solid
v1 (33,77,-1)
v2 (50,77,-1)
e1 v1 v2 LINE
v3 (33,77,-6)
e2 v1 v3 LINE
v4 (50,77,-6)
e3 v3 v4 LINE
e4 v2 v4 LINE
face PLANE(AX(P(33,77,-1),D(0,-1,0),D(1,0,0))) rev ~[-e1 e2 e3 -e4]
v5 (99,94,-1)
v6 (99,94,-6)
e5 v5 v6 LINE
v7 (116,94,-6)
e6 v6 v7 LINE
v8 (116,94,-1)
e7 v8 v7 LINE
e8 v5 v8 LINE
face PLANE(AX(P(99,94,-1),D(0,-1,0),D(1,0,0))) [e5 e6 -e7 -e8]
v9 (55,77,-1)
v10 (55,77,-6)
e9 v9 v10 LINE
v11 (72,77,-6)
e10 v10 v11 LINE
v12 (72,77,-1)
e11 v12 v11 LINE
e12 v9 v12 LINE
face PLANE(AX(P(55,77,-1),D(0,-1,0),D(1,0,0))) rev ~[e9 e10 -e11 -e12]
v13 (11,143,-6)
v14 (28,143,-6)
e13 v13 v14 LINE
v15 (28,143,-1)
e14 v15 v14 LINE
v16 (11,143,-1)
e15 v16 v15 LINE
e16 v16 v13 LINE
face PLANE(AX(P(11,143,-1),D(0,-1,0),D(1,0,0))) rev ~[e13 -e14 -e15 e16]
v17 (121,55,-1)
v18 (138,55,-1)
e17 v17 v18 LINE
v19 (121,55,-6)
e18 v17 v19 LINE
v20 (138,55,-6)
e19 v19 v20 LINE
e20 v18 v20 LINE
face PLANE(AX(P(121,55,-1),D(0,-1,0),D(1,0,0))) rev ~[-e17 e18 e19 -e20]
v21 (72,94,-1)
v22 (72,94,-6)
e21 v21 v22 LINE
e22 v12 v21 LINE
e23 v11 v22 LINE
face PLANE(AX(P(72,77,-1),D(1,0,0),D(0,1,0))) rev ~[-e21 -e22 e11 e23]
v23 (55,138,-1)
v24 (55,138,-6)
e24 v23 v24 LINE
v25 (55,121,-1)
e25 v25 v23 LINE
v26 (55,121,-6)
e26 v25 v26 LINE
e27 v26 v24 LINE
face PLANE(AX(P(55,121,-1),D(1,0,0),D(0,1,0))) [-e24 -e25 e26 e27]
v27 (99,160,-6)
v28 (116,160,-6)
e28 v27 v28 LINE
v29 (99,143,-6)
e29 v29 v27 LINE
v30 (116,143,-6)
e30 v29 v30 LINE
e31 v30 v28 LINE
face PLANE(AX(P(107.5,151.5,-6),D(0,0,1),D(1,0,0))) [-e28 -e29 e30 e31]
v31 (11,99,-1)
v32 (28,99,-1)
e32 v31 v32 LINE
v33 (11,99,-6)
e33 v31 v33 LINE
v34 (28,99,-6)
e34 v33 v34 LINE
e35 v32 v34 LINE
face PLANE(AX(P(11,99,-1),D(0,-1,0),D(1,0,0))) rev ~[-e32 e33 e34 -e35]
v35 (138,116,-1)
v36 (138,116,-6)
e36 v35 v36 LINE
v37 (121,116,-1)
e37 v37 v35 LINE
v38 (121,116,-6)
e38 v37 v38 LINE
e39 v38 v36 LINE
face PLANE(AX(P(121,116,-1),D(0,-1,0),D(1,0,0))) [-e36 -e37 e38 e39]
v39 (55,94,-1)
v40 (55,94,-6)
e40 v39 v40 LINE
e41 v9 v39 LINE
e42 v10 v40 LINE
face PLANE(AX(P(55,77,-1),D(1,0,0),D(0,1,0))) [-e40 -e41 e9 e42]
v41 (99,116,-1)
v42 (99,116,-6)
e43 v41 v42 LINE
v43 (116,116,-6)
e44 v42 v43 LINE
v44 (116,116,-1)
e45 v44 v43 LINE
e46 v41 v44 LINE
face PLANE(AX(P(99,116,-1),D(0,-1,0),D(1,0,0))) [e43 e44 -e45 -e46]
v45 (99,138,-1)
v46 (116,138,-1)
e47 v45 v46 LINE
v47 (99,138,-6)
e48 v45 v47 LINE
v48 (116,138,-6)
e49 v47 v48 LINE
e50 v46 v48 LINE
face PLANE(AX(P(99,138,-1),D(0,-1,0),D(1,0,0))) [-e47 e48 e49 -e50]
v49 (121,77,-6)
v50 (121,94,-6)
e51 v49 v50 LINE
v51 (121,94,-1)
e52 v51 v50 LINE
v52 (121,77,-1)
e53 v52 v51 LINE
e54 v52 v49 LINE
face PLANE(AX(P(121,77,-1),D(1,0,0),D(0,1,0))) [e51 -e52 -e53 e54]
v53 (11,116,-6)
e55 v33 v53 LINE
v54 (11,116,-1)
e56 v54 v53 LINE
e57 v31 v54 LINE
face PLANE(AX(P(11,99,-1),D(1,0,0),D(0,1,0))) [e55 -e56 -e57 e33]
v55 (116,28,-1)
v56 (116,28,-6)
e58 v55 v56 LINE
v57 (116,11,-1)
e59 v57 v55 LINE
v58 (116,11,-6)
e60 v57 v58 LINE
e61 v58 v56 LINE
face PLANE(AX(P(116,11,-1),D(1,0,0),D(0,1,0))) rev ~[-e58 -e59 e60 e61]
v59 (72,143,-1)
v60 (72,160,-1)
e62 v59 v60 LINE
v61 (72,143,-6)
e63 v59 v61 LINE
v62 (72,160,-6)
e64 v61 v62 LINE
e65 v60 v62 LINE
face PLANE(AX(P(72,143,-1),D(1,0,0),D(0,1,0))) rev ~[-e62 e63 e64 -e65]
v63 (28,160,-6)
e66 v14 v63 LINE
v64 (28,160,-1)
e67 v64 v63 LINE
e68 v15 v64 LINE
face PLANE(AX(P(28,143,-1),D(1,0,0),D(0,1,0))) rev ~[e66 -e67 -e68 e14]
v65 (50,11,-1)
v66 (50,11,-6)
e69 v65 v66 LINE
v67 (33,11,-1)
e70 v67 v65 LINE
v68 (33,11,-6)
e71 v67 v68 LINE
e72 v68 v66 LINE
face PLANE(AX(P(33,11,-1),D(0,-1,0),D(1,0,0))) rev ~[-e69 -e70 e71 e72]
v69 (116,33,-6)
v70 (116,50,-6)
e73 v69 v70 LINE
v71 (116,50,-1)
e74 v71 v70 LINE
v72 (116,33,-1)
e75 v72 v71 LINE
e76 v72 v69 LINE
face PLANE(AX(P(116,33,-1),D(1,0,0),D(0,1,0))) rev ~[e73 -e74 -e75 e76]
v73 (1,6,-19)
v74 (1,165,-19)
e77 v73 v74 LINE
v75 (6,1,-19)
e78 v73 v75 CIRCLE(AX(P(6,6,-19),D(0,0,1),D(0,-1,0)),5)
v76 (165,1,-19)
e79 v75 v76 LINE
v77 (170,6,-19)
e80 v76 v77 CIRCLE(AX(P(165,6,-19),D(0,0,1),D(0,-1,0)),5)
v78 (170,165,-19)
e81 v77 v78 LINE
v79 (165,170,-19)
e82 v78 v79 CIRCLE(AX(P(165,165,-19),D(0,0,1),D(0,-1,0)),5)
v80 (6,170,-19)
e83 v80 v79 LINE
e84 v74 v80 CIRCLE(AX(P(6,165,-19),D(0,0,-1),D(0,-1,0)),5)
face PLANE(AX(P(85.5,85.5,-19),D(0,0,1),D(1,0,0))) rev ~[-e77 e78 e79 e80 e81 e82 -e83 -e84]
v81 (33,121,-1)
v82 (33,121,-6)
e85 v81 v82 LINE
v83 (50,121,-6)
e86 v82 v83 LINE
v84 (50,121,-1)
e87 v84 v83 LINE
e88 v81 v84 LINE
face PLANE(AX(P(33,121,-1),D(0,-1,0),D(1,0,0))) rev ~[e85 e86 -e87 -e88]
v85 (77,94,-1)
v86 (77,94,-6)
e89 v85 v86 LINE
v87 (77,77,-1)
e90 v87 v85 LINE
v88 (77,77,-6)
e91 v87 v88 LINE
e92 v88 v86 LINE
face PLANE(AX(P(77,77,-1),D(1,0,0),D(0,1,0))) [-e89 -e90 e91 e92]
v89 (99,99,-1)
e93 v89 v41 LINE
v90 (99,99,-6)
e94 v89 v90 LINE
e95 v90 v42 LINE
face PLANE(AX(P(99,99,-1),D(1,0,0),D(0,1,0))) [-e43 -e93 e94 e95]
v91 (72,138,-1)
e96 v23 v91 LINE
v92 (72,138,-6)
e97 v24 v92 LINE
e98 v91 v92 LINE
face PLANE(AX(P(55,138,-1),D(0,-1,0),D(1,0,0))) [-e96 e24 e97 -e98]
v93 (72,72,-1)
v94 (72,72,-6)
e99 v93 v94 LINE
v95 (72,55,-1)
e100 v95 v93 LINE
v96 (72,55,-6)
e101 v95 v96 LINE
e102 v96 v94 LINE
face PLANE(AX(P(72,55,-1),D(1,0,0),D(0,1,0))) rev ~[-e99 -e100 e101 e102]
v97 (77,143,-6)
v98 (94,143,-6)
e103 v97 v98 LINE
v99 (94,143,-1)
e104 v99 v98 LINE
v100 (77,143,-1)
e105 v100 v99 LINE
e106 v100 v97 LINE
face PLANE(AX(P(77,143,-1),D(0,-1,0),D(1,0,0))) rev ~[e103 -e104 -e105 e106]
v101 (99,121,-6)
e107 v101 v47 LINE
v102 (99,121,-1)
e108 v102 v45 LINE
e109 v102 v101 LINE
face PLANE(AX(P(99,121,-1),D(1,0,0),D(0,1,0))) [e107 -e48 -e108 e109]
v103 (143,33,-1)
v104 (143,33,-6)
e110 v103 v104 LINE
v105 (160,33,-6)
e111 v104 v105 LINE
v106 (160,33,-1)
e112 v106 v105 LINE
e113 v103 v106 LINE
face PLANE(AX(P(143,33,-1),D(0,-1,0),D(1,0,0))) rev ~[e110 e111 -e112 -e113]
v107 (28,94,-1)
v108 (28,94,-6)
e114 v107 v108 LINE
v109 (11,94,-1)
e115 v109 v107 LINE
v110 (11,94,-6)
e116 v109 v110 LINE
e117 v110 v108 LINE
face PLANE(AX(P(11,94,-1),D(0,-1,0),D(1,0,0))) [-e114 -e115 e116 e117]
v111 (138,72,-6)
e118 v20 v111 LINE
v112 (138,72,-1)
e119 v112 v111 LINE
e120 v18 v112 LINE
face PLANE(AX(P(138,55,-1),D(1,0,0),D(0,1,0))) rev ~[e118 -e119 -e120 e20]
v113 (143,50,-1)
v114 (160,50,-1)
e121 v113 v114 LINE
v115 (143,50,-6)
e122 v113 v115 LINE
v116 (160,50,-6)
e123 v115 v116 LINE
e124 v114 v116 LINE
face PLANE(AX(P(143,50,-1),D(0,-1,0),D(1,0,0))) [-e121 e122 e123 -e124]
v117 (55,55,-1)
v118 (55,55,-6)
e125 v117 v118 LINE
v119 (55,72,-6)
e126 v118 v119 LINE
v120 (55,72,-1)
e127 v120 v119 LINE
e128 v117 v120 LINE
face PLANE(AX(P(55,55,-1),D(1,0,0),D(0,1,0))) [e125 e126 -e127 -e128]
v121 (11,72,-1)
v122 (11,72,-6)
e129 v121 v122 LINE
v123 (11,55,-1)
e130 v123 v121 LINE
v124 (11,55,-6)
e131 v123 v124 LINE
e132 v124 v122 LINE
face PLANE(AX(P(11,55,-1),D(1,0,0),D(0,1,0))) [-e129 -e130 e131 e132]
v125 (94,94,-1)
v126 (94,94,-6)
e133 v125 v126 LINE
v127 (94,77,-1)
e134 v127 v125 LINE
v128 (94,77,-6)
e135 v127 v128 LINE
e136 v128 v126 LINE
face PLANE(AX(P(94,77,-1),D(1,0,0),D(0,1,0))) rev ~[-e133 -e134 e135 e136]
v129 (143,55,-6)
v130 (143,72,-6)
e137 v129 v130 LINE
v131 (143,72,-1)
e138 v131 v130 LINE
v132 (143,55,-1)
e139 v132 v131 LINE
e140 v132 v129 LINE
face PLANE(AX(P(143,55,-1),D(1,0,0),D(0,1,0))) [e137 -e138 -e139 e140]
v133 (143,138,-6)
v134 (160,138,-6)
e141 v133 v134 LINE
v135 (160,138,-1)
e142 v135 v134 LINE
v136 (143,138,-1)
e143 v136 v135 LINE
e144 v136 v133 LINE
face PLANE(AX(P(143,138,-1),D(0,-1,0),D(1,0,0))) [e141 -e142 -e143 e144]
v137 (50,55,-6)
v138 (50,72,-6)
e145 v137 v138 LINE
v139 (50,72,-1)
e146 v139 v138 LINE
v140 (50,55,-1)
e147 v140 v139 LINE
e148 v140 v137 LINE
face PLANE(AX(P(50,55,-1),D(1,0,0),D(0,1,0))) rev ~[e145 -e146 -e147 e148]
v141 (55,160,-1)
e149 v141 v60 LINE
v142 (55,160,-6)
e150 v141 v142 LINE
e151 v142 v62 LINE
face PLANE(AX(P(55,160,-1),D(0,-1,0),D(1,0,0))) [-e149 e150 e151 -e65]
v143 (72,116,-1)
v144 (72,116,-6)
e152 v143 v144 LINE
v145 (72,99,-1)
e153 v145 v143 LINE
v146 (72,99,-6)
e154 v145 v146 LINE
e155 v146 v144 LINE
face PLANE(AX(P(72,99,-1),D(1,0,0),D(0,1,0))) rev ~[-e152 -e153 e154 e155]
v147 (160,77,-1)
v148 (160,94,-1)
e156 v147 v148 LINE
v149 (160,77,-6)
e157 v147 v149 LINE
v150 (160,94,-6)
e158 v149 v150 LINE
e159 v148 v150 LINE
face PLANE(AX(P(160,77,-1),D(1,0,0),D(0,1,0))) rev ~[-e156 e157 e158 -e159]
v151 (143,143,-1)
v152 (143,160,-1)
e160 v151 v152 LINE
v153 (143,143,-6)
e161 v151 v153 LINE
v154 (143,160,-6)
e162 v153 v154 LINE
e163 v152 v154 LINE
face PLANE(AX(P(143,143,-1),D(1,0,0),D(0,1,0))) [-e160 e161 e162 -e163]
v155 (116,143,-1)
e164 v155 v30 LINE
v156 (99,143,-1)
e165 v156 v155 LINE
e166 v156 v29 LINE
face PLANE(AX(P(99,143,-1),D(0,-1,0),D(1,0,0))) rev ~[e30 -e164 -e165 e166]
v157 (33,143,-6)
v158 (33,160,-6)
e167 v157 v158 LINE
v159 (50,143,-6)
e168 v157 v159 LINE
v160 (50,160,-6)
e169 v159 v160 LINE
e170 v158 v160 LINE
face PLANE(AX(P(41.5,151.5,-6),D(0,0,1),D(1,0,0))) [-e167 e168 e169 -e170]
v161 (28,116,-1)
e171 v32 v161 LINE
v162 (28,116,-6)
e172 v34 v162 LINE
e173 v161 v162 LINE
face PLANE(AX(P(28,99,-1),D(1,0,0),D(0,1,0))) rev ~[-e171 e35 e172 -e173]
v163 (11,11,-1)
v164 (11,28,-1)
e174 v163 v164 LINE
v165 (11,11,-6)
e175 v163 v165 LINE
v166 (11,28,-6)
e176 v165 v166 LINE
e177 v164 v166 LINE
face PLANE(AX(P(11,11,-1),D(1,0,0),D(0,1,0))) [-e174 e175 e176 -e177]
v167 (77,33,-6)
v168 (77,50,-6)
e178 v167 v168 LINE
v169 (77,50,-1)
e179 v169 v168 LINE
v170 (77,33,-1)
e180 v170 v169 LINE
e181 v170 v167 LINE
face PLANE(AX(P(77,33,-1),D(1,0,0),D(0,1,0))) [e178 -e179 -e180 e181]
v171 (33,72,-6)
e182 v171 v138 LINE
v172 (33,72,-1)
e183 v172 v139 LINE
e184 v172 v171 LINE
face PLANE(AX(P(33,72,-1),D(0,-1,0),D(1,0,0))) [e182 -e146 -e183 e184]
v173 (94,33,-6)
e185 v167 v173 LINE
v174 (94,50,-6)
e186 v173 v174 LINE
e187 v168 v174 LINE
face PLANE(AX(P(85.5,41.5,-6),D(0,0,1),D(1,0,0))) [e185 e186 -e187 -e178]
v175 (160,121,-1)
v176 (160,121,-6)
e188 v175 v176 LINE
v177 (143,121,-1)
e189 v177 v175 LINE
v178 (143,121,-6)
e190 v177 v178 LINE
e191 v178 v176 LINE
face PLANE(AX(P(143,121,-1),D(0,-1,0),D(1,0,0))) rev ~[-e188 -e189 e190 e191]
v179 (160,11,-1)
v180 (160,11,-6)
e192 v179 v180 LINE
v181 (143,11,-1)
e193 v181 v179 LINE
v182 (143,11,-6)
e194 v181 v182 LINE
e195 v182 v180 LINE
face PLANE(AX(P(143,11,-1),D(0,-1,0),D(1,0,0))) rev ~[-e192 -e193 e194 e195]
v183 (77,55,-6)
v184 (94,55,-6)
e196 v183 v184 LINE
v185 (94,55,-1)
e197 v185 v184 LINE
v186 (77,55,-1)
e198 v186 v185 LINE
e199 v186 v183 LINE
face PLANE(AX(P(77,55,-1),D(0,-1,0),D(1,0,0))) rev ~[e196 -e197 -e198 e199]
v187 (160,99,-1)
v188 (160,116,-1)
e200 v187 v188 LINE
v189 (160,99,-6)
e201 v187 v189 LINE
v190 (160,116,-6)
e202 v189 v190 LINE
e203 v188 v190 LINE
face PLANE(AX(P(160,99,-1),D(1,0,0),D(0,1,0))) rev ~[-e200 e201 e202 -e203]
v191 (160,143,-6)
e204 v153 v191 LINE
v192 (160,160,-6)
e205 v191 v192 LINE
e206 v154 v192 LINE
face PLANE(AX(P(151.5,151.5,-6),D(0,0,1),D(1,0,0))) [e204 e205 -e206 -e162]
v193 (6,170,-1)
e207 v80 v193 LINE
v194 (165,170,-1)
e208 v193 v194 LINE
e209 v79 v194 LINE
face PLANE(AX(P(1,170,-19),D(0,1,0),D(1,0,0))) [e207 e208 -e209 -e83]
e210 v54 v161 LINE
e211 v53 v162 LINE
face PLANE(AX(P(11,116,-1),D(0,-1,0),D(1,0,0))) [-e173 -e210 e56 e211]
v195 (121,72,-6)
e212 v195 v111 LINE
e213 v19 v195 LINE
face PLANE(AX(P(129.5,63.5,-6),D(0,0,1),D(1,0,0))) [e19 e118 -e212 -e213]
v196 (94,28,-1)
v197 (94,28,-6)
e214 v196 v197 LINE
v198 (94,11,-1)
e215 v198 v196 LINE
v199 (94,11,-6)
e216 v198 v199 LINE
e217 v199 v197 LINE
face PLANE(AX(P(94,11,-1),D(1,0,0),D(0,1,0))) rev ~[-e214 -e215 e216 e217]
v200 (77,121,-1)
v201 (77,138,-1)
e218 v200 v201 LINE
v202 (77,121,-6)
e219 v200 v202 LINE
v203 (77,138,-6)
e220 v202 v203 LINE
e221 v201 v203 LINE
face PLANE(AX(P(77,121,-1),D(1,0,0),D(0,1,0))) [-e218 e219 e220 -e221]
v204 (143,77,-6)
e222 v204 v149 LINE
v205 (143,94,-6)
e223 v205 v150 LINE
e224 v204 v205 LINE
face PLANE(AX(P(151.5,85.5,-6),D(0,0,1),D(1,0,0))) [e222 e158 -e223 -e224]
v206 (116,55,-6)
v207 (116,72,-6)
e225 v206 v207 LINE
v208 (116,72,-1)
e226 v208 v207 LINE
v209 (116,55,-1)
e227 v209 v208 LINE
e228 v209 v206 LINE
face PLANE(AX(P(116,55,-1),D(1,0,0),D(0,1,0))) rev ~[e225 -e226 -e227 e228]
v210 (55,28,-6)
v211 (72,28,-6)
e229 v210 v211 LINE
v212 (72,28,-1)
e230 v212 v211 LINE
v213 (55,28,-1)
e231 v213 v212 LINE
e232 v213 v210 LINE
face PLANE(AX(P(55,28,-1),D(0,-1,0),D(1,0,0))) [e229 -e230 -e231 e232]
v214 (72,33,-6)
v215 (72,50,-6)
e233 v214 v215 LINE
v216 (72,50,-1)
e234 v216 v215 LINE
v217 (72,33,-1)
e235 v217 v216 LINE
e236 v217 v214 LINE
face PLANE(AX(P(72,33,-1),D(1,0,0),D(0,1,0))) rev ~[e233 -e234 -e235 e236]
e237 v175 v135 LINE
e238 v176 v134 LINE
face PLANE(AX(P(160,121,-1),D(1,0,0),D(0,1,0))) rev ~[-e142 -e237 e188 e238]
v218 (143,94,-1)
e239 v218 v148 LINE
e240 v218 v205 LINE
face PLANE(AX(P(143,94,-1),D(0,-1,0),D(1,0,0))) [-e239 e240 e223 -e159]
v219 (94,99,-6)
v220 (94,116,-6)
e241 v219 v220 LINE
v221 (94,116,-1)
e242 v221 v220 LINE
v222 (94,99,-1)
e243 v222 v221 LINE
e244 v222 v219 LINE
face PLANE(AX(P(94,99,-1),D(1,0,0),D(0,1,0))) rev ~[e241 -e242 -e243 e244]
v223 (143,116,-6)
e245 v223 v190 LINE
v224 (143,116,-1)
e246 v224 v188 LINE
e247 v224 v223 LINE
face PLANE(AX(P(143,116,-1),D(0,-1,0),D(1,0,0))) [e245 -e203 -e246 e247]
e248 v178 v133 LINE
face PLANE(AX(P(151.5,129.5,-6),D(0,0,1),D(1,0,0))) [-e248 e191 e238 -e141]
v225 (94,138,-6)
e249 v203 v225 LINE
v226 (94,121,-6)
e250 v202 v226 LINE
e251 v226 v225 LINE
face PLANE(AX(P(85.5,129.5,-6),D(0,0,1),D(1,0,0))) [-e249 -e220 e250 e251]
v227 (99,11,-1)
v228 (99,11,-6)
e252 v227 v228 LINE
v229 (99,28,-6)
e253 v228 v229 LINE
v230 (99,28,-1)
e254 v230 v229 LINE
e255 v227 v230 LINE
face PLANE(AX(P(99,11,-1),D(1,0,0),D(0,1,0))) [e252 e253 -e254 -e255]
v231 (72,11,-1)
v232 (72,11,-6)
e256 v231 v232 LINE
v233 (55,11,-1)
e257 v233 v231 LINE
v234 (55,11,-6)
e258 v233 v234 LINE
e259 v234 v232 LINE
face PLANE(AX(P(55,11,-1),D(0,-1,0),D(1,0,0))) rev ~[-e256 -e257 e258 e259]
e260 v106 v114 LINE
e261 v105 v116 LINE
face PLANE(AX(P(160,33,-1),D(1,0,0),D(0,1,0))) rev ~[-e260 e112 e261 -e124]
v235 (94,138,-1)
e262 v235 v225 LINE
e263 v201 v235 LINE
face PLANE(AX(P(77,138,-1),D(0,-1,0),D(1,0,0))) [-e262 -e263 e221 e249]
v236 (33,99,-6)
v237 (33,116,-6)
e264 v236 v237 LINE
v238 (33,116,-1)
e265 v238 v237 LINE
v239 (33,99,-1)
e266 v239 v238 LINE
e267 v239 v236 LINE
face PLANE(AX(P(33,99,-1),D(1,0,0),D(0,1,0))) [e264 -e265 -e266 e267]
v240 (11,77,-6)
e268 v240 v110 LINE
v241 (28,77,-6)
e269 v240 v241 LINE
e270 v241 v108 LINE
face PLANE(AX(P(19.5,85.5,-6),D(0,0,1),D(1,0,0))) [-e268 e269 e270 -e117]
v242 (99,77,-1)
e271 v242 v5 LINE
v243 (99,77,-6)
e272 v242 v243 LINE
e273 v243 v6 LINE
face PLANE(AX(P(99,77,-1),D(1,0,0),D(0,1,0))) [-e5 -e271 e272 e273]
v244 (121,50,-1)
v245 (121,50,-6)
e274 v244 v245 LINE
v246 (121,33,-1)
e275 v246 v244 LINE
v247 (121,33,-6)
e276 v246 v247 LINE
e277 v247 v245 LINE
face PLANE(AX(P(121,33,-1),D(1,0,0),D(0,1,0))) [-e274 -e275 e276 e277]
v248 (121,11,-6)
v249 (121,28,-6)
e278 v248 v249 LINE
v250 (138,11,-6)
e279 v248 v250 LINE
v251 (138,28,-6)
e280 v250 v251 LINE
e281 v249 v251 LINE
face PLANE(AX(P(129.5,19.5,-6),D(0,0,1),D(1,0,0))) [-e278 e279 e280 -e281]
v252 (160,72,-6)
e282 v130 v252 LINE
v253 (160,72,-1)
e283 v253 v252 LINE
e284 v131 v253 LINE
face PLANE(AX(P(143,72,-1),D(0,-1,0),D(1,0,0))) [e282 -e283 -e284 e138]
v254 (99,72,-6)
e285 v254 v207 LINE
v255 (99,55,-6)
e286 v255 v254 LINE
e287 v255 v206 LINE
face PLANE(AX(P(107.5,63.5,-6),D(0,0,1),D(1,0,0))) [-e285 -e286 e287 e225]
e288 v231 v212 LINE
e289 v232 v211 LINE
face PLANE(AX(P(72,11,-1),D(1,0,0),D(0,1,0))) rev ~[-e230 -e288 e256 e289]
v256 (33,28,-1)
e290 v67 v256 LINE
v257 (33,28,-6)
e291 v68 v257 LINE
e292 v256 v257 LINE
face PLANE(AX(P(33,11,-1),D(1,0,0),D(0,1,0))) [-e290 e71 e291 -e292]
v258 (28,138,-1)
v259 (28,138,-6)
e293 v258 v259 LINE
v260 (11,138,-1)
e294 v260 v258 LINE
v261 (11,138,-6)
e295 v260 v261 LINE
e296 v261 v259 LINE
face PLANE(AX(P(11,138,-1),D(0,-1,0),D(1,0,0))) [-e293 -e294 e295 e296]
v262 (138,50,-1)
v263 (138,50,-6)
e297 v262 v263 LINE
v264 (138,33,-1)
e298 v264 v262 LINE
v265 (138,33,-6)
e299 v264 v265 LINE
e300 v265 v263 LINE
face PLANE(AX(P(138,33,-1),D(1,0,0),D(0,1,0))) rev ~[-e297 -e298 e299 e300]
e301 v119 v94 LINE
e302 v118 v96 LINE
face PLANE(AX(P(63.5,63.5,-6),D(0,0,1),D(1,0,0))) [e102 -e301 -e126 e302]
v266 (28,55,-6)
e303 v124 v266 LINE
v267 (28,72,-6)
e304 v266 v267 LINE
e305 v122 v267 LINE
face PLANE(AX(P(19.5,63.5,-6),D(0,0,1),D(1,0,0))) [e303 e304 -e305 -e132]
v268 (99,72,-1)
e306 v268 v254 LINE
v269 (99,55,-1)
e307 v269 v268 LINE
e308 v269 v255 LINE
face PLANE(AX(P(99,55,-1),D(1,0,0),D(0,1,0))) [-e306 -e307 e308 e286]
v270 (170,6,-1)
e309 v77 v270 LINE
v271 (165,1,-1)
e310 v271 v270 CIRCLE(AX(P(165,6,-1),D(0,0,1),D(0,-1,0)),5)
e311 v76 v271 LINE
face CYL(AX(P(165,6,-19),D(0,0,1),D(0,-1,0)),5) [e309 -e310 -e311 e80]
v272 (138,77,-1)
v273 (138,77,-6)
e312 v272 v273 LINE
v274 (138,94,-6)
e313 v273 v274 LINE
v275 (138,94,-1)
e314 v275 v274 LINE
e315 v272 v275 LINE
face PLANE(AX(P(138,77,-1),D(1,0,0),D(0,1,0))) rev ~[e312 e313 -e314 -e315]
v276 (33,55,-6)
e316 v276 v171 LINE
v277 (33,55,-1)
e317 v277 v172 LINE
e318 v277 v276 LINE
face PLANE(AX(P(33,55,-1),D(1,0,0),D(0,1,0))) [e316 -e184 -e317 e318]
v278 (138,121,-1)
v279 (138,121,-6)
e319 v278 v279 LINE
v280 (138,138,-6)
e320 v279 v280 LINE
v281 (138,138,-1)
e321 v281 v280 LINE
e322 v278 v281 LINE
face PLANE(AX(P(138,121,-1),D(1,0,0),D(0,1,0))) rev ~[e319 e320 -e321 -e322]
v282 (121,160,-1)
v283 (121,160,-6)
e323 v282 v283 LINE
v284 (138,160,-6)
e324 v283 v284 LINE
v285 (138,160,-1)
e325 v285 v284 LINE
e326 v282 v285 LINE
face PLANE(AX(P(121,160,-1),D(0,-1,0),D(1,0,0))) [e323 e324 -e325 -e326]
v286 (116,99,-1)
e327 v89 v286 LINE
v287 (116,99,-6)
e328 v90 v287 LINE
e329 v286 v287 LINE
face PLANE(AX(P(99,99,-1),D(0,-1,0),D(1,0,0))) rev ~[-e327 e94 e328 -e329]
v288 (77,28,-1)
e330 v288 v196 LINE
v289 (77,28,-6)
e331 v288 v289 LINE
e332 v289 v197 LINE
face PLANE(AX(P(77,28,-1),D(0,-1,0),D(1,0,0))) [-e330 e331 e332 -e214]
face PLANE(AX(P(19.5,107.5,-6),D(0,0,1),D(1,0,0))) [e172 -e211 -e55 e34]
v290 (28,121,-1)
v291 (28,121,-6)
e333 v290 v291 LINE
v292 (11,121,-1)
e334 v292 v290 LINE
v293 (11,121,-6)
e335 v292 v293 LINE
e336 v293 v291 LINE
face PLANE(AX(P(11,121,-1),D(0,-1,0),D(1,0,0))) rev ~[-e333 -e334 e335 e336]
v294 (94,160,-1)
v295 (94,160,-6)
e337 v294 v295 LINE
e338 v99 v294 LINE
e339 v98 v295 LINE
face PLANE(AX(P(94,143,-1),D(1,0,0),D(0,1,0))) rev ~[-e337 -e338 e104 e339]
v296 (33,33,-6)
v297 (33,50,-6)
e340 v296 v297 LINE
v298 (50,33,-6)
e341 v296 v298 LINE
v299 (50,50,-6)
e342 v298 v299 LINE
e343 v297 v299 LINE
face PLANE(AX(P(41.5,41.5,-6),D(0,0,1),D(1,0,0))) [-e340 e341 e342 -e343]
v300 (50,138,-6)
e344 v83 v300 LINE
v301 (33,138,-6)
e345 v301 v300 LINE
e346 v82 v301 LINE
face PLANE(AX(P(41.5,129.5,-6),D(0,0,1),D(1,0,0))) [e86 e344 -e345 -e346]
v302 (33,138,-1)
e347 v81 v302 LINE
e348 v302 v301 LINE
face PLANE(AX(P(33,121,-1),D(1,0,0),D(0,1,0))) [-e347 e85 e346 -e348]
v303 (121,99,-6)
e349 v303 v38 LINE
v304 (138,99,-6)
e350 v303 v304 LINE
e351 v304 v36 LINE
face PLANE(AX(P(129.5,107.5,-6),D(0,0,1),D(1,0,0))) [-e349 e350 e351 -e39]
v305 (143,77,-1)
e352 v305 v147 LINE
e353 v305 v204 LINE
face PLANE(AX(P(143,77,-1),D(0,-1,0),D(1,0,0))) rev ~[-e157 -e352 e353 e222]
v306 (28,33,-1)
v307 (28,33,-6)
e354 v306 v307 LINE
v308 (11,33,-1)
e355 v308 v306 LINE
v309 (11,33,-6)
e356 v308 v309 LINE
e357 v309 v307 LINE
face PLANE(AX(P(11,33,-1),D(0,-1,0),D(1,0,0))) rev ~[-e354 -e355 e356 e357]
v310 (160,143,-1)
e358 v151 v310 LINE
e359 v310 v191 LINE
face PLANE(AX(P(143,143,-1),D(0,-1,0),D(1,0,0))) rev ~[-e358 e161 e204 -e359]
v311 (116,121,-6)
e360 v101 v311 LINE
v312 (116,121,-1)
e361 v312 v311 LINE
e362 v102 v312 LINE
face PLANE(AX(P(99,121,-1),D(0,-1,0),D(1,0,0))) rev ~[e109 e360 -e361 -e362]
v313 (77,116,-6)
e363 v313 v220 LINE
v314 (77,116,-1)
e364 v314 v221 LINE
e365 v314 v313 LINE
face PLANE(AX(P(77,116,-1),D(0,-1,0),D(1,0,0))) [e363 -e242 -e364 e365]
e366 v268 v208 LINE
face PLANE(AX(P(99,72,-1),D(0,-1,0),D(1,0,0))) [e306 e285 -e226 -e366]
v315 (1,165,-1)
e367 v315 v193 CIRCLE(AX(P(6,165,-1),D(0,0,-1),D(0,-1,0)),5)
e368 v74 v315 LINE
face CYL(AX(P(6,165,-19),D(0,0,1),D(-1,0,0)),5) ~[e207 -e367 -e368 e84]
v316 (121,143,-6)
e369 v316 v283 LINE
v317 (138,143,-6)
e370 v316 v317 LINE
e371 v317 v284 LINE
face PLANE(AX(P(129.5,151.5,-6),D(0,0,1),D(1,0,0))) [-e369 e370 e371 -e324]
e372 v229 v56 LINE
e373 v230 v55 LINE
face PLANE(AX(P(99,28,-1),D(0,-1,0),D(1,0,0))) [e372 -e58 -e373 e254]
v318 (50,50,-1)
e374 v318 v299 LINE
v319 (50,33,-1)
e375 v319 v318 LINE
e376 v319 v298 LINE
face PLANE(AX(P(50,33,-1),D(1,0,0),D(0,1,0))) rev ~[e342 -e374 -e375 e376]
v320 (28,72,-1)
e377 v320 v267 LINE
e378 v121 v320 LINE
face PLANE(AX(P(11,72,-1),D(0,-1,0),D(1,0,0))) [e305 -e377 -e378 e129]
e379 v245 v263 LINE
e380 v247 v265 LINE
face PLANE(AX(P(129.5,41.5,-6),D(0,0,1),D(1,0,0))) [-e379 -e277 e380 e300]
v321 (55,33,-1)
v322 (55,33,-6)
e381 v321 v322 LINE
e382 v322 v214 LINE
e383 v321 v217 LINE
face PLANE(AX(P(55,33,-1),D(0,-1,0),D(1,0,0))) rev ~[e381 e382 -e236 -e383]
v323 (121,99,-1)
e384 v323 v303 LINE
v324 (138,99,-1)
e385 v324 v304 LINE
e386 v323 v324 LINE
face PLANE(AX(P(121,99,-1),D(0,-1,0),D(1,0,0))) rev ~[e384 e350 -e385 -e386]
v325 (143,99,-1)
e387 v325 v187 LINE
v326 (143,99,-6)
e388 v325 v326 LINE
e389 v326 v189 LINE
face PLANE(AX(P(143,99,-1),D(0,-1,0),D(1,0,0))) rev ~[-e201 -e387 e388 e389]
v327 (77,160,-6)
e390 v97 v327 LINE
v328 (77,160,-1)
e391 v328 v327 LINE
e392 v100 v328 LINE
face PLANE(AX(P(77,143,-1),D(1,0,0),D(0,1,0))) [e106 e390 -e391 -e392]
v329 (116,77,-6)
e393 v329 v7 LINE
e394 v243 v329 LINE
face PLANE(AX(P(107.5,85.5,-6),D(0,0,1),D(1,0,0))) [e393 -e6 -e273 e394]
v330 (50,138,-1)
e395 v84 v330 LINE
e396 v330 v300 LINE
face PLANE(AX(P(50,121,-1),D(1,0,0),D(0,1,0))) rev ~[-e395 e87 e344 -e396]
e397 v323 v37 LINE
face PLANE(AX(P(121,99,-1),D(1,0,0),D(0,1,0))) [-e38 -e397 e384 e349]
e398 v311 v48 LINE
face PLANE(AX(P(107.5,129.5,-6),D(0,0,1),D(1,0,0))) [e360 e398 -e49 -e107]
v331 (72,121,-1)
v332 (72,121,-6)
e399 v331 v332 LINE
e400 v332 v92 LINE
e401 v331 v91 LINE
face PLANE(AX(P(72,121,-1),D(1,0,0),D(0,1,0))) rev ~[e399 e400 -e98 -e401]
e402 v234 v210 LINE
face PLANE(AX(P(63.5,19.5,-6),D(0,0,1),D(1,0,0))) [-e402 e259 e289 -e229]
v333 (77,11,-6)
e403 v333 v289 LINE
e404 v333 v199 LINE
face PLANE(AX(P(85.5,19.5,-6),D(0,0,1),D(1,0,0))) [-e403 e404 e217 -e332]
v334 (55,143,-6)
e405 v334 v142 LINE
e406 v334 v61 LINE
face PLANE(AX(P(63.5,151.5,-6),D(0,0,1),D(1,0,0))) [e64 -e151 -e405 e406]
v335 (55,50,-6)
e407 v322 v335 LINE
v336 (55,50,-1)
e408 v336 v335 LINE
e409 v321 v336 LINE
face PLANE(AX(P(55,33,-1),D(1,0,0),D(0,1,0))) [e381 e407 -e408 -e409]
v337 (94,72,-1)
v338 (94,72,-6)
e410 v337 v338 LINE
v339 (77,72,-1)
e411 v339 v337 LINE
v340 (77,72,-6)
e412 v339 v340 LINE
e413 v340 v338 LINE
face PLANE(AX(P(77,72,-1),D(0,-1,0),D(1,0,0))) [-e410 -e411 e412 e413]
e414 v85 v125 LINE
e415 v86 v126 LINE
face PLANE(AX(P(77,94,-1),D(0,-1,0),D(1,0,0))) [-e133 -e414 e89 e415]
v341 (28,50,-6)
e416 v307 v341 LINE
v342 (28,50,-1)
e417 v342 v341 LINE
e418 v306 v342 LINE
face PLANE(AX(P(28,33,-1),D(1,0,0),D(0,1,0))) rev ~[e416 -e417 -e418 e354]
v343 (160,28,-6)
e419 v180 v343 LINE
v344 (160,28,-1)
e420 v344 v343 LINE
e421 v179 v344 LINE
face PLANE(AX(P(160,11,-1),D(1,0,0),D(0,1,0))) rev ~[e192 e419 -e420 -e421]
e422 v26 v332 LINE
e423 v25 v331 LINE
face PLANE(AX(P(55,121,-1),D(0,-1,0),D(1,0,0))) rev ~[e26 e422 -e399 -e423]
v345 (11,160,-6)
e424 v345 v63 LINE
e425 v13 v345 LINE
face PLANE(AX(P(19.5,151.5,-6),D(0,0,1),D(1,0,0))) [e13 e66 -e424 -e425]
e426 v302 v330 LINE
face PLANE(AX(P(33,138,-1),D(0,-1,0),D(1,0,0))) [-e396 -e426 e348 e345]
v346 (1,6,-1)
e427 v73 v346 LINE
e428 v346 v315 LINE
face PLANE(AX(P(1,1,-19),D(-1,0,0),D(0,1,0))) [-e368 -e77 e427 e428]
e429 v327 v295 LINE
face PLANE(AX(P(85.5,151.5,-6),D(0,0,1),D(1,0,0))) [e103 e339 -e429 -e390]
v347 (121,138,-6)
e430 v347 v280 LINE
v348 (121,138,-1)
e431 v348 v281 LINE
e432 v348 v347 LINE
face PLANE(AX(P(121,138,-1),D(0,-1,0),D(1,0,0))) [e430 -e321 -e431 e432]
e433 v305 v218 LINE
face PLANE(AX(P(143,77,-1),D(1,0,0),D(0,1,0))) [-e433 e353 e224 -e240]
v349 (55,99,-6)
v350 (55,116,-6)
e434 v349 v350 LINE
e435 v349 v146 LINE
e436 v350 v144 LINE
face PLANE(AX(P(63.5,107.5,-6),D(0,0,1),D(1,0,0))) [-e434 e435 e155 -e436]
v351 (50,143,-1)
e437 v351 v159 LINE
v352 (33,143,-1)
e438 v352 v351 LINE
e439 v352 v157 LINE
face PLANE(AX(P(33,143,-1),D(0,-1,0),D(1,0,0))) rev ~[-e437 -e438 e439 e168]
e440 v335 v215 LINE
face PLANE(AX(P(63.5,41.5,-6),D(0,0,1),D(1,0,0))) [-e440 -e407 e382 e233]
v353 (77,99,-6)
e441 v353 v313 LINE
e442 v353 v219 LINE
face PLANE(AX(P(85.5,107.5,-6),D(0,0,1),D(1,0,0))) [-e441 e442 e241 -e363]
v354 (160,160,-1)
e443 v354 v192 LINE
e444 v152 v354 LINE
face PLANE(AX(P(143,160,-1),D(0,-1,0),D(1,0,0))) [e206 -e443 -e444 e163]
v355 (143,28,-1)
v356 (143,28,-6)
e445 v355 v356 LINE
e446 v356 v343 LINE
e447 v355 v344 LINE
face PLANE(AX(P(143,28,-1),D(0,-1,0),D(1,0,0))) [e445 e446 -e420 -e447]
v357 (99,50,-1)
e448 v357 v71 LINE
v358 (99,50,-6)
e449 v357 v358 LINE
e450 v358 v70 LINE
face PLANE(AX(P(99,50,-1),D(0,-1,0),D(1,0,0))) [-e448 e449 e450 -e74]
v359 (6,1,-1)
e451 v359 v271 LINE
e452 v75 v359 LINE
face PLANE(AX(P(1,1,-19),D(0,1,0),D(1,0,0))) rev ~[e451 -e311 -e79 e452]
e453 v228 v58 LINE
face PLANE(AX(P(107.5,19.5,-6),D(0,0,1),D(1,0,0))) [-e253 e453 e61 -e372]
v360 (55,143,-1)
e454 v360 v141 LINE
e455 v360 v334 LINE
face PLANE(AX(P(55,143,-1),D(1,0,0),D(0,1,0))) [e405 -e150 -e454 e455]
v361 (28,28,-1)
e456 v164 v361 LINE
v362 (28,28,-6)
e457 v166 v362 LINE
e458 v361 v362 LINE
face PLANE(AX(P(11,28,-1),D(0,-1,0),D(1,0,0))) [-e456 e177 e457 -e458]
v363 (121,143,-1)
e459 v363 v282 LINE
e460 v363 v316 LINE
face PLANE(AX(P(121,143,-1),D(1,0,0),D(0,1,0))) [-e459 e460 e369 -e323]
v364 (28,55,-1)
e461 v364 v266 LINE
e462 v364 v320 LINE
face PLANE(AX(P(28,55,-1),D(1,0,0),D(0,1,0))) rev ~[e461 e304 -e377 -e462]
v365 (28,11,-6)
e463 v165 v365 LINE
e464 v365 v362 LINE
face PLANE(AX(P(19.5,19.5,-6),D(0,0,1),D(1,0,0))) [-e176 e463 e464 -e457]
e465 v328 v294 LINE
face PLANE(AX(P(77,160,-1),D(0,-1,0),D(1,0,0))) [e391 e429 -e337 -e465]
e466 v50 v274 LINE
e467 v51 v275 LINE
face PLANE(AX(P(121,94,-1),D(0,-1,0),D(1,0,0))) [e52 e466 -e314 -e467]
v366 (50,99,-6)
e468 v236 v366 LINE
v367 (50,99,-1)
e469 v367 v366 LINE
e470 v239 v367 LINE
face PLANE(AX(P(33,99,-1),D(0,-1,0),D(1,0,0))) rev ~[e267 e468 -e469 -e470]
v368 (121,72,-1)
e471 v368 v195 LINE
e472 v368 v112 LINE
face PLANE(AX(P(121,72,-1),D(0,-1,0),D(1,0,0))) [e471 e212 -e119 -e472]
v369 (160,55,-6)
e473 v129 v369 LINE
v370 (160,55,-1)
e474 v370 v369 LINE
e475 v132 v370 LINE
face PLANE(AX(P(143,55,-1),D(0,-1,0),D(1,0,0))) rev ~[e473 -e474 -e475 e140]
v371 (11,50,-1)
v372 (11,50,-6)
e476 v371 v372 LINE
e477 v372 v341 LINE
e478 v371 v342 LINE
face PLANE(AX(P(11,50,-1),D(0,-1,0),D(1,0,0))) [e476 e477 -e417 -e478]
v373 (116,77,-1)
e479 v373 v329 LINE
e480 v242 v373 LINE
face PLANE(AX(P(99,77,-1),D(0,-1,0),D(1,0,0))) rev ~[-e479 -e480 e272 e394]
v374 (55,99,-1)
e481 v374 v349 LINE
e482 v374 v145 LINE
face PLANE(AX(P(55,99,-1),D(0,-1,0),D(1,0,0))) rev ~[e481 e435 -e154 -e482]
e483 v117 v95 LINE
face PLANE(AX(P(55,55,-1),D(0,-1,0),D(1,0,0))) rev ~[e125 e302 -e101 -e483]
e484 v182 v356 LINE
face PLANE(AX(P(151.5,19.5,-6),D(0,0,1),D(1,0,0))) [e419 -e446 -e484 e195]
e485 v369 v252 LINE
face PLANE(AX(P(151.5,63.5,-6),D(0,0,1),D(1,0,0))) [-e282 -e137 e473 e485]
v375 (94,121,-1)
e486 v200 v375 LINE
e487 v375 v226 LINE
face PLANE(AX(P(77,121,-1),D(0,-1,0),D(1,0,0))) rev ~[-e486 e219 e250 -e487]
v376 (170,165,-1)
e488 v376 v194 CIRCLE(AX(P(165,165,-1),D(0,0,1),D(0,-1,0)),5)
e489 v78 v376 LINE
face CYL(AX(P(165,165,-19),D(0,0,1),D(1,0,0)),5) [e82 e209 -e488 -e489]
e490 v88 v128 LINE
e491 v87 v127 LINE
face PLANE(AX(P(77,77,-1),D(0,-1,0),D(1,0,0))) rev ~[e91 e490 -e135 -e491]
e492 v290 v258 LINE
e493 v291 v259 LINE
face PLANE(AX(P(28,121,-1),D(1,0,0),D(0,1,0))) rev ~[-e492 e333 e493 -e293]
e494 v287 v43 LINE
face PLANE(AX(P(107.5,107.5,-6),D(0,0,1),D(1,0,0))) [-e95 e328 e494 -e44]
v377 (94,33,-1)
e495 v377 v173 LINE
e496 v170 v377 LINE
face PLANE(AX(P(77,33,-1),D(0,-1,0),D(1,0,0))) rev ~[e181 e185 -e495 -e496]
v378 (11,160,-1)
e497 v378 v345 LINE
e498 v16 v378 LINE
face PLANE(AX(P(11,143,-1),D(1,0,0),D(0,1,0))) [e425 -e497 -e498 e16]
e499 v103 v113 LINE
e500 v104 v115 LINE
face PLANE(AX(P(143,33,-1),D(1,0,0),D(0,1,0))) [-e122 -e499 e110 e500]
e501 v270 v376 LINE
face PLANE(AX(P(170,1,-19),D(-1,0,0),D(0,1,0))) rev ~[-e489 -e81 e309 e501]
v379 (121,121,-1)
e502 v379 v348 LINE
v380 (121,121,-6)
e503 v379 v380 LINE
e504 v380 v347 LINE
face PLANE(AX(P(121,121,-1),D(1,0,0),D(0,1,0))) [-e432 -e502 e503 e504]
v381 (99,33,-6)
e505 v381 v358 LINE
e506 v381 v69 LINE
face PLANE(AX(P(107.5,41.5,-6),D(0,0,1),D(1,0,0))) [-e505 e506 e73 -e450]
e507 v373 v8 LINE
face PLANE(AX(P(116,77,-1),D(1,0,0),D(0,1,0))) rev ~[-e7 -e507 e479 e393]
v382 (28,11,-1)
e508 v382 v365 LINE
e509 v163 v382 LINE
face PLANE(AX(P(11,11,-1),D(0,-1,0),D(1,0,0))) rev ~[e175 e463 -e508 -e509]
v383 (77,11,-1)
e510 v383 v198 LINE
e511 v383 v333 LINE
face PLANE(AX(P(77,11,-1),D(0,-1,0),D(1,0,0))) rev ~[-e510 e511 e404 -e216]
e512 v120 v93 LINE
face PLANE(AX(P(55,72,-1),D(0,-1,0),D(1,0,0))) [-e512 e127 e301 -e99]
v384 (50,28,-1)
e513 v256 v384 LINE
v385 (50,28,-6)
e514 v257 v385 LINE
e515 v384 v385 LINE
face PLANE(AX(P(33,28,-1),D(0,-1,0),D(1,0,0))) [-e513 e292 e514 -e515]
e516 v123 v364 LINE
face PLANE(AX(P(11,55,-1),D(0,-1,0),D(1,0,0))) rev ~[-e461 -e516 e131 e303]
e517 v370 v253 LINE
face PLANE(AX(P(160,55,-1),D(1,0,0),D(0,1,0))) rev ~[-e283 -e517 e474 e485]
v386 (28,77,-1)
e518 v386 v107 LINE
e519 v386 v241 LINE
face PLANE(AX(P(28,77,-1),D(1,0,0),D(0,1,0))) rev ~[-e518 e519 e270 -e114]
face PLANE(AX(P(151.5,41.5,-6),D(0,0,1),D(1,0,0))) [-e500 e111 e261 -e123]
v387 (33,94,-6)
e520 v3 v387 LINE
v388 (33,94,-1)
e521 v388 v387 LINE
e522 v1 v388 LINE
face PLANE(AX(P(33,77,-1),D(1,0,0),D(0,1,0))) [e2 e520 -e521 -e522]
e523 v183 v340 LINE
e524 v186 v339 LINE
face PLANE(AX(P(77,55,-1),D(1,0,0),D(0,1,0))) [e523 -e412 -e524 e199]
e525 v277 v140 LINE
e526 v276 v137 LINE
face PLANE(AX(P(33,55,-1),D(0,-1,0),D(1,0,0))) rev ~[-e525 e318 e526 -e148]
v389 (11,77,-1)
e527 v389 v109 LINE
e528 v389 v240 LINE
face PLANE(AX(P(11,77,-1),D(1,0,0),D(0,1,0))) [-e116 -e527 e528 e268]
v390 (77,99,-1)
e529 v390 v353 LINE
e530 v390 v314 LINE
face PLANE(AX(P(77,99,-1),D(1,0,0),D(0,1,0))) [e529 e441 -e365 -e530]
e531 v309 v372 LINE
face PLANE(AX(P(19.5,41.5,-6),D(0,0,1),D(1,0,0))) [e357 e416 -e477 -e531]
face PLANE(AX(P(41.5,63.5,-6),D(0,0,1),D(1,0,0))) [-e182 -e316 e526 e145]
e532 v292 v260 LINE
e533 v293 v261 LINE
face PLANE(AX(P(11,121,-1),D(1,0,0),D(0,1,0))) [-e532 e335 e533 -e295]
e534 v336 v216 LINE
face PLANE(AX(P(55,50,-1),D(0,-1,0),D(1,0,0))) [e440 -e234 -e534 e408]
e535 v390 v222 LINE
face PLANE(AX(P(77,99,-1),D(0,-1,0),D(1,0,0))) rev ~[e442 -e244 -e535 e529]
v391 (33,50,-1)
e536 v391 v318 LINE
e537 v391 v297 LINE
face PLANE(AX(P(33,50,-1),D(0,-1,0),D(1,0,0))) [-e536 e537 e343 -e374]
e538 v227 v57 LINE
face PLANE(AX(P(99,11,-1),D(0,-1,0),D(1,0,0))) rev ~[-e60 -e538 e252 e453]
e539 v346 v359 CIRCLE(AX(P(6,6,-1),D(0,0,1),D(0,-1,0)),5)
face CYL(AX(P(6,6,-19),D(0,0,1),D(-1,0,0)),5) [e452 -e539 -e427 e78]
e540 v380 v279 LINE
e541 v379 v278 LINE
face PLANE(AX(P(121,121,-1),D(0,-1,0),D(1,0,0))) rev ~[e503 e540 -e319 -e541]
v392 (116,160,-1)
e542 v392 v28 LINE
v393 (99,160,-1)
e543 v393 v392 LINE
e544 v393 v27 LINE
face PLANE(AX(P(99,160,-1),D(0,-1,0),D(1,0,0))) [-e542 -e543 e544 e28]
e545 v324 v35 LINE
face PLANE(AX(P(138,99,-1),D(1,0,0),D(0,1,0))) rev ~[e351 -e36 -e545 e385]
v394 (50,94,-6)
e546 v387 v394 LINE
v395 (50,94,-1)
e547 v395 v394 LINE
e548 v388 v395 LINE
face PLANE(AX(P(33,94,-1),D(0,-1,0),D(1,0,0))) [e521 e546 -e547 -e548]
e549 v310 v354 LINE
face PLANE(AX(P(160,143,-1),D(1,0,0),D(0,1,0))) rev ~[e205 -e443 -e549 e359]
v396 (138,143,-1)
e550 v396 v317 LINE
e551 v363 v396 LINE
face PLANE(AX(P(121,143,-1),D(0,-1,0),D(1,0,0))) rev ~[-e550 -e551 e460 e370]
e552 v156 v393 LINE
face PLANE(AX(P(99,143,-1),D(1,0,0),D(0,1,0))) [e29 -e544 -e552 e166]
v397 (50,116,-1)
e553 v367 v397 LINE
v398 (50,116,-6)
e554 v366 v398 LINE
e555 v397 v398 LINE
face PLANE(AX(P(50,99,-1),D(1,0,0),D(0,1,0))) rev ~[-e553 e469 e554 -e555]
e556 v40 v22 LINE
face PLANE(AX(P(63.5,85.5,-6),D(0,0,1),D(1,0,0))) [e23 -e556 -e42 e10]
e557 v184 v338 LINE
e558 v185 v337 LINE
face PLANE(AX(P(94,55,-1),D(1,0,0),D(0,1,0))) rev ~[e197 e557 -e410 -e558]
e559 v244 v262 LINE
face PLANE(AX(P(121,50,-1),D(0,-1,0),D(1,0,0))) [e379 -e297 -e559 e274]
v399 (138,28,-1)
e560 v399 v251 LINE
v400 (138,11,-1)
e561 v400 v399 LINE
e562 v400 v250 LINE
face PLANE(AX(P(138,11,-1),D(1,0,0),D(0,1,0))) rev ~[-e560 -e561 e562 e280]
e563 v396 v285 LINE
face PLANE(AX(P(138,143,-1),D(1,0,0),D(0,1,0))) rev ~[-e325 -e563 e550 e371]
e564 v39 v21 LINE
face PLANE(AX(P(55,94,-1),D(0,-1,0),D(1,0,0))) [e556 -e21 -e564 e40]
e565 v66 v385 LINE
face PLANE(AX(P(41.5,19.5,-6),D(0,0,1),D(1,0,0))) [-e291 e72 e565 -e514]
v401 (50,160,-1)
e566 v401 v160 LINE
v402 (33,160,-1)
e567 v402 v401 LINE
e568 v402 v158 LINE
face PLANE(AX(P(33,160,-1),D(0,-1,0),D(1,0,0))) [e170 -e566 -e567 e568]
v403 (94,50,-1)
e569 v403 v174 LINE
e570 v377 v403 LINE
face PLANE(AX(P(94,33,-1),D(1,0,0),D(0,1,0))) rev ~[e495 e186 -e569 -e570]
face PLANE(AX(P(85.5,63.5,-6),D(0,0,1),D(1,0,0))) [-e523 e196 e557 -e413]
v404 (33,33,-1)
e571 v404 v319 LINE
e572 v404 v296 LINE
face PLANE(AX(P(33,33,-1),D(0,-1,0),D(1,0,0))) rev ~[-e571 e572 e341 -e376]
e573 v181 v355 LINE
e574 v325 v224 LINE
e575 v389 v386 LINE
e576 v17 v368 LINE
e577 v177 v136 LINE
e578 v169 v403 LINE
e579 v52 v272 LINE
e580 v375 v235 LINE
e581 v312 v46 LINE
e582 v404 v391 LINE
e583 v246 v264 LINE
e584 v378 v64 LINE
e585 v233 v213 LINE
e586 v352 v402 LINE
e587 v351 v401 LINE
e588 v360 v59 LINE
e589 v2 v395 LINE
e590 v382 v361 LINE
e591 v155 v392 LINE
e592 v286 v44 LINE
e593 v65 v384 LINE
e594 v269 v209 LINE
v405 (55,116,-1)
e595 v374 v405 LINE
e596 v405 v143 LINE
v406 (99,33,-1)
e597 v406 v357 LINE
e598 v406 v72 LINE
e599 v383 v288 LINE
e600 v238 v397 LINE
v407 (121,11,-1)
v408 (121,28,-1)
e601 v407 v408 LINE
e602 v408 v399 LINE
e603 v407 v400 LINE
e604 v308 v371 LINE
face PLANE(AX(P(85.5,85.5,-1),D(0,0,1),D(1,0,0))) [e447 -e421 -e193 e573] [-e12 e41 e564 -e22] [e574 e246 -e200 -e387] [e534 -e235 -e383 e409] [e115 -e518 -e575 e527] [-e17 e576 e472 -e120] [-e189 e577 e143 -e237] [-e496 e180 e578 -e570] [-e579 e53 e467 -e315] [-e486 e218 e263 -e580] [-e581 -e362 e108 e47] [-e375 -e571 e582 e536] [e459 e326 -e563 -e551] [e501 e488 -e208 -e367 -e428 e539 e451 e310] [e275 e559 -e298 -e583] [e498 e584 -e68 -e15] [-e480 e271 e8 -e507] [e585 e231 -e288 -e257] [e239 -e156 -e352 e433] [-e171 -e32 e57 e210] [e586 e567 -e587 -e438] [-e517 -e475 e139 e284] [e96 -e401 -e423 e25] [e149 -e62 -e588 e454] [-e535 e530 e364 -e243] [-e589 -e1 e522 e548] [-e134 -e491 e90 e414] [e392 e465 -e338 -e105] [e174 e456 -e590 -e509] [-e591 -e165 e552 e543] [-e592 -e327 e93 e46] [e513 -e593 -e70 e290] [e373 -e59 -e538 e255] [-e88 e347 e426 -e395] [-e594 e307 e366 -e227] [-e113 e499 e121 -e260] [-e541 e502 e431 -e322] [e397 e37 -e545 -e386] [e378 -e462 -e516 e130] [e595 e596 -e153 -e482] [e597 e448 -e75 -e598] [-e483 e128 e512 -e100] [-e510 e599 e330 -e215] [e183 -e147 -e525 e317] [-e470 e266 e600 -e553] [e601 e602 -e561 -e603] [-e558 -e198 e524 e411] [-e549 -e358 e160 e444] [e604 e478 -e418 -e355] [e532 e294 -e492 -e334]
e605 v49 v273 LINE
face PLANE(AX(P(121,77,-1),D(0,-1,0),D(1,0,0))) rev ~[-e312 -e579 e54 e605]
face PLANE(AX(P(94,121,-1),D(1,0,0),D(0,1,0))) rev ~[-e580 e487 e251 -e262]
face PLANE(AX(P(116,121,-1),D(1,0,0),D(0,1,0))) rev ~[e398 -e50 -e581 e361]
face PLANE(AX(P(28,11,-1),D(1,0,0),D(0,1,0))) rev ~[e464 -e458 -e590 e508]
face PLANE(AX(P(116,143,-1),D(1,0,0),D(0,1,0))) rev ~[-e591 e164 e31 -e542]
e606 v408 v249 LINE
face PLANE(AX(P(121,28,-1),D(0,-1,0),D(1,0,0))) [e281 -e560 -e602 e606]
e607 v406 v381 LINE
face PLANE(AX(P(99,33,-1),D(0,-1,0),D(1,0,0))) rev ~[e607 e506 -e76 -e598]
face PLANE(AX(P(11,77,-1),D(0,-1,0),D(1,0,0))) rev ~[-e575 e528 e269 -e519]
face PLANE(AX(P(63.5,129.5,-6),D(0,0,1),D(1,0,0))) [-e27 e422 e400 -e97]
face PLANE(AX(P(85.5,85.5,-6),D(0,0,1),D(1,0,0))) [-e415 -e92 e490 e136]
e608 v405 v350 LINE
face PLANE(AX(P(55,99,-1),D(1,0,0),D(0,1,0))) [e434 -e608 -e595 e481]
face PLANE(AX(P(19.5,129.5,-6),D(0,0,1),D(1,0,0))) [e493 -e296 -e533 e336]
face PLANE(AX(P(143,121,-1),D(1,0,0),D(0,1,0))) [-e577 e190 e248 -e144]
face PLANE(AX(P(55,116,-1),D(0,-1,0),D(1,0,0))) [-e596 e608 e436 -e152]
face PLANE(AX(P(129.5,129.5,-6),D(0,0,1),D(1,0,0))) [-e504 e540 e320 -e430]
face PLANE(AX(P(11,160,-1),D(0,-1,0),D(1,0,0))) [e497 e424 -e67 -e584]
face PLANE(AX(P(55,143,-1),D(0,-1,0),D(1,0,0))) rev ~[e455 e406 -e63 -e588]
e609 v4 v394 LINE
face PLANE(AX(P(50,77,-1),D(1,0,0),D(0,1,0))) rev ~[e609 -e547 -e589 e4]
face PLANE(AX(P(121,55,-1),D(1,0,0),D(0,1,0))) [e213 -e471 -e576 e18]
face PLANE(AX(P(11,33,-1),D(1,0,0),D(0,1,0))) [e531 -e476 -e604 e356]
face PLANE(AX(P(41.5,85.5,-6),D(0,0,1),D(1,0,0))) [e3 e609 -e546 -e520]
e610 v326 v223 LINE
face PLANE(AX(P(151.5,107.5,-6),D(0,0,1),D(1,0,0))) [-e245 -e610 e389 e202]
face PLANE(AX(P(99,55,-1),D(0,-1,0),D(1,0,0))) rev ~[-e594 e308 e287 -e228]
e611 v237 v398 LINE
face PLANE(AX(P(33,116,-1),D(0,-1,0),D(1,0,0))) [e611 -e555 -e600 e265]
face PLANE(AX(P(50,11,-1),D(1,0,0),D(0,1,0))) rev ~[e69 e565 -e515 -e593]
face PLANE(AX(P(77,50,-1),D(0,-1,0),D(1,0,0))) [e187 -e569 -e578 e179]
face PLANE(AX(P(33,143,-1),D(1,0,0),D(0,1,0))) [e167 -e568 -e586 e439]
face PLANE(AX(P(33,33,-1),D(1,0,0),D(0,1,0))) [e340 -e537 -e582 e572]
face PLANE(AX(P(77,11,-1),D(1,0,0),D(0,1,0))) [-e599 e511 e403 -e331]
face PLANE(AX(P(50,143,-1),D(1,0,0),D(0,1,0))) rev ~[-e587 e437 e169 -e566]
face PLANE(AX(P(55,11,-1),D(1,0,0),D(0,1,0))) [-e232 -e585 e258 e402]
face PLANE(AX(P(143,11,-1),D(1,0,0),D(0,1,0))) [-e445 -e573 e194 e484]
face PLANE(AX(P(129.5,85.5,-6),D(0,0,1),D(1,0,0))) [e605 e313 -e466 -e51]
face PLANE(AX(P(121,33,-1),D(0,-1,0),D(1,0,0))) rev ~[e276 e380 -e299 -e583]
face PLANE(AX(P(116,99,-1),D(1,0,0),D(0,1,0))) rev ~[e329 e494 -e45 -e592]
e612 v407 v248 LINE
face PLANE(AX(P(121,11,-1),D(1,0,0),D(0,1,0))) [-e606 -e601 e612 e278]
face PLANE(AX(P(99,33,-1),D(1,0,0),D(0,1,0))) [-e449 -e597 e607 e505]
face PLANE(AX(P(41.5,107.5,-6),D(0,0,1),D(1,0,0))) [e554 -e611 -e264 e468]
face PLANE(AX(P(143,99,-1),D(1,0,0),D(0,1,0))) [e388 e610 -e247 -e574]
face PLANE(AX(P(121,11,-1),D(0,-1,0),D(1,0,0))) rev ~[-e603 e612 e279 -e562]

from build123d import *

# Parameters (mm, degrees)
SKETCH_W                     = 169
SKETCH_H                     = 169
PAD_DEPTH                    = 18
FILLET_R                     = 5
SKETCH001_W                  = 17
SKETCH001_H                  = 17
POCKET_DEPTH                 = 5
SKETCH001_LINEARPATTERN_2_W  = 17
SKETCH001_LINEARPATTERN_2_H  = 17
POCKET_LINEARPATTERN_2_DEPTH = 5
SKETCH001_LINEARPATTERN_3_W  = 17
SKETCH001_LINEARPATTERN_3_H  = 17
POCKET_LINEARPATTERN_3_DEPTH = 5
SKETCH001_LINEARPATTERN_4_W  = 17
SKETCH001_LINEARPATTERN_4_H  = 17
POCKET_LINEARPATTERN_4_DEPTH = 5
SKETCH001_LINEARPATTERN_5_W  = 17
SKETCH001_LINEARPATTERN_5_H  = 17
POCKET_LINEARPATTERN_5_DEPTH = 5
SKETCH001_LINEARPATTERN_6_W  = 17
SKETCH001_LINEARPATTERN_6_H  = 17
POCKET_LINEARPATTERN_6_DEPTH = 5
SKETCH001_LINEARPATTERN_7_W  = 17
SKETCH001_LINEARPATTERN_7_H  = 17
POCKET_LINEARPATTERN_7_DEPTH = 5
LINEARPATTERN001_COUNT       = 7
LINEARPATTERN001_PITCH       = 22


with BuildPart() as part:
    # Sketch → Pad (new body)
    with BuildSketch(Plane.XY):
        with Locations((84.5, 84.5)):
            Rectangle(SKETCH_W, SKETCH_H)
    extrude(amount=PAD_DEPTH)

    # Fillet
    fillet_edges = [part.edges().sort_by_distance(p)[0] for p in [
        (169, 0, 9),
        (169, 169, 9),
        (0, 0, 9),
        (0, 169, 9),
    ]]
    fillet(fillet_edges, radius=FILLET_R)

    # Sketch001 (on Face5 of Fillet) → Pocket (cut)
    with BuildSketch(Plane.XY.offset(18)):
        with Locations((18.5, 18.5)):
            Rectangle(SKETCH001_W, SKETCH001_H)
    pocket = extrude(amount=-POCKET_DEPTH, mode=Mode.SUBTRACT)

    # Sketch001 LinearPattern 2 → Pocket LinearPattern 2 (cut)
    with BuildSketch(Plane(origin=(22, 0, 18), x_dir=(1, 0, 0), z_dir=(0, 0, 1))):
        with Locations((18.5, 18.5)):
            Rectangle(SKETCH001_LINEARPATTERN_2_W, SKETCH001_LINEARPATTERN_2_H)
    pocket_linearpattern_2 = extrude(amount=-POCKET_LINEARPATTERN_2_DEPTH, mode=Mode.SUBTRACT)

    # Sketch001 LinearPattern 3 → Pocket LinearPattern 3 (cut)
    with BuildSketch(Plane(origin=(44, 0, 18), x_dir=(1, 0, 0), z_dir=(0, 0, 1))):
        with Locations((18.5, 18.5)):
            Rectangle(SKETCH001_LINEARPATTERN_3_W, SKETCH001_LINEARPATTERN_3_H)
    pocket_linearpattern_3 = extrude(amount=-POCKET_LINEARPATTERN_3_DEPTH, mode=Mode.SUBTRACT)

    # Sketch001 LinearPattern 4 → Pocket LinearPattern 4 (cut)
    with BuildSketch(Plane(origin=(66, 0, 18), x_dir=(1, 0, 0), z_dir=(0, 0, 1))):
        with Locations((18.5, 18.5)):
            Rectangle(SKETCH001_LINEARPATTERN_4_W, SKETCH001_LINEARPATTERN_4_H)
    pocket_linearpattern_4 = extrude(amount=-POCKET_LINEARPATTERN_4_DEPTH, mode=Mode.SUBTRACT)

    # Sketch001 LinearPattern 5 → Pocket LinearPattern 5 (cut)
    with BuildSketch(Plane(origin=(88, 0, 18), x_dir=(1, 0, 0), z_dir=(0, 0, 1))):
        with Locations((18.5, 18.5)):
            Rectangle(SKETCH001_LINEARPATTERN_5_W, SKETCH001_LINEARPATTERN_5_H)
    pocket_linearpattern_5 = extrude(amount=-POCKET_LINEARPATTERN_5_DEPTH, mode=Mode.SUBTRACT)

    # Sketch001 LinearPattern 6 → Pocket LinearPattern 6 (cut)
    with BuildSketch(Plane(origin=(110, 0, 18), x_dir=(1, 0, 0), z_dir=(0, 0, 1))):
        with Locations((18.5, 18.5)):
            Rectangle(SKETCH001_LINEARPATTERN_6_W, SKETCH001_LINEARPATTERN_6_H)
    pocket_linearpattern_6 = extrude(amount=-POCKET_LINEARPATTERN_6_DEPTH, mode=Mode.SUBTRACT)

    # Sketch001 LinearPattern 7 → Pocket LinearPattern 7 (cut)
    with BuildSketch(Plane(origin=(132, 0, 18), x_dir=(1, 0, 0), z_dir=(0, 0, 1))):
        with Locations((18.5, 18.5)):
            Rectangle(SKETCH001_LINEARPATTERN_7_W, SKETCH001_LINEARPATTERN_7_H)
    pocket_linearpattern_7 = extrude(amount=-POCKET_LINEARPATTERN_7_DEPTH, mode=Mode.SUBTRACT)

    # LinearPattern001: Pocket, Pocket LinearPattern 2, Pocket LinearPattern 3, Pocket LinearPattern 4, Pocket LinearPattern 5, Pocket LinearPattern 6, Pocket LinearPattern 7 ×7
    with Locations(*[(0, i * LINEARPATTERN001_PITCH, 0) for i in range(1, LINEARPATTERN001_COUNT)]):
        add(pocket, mode=Mode.SUBTRACT)
        add(pocket_linearpattern_2, mode=Mode.SUBTRACT)
        add(pocket_linearpattern_3, mode=Mode.SUBTRACT)
        add(pocket_linearpattern_4, mode=Mode.SUBTRACT)
        add(pocket_linearpattern_5, mode=Mode.SUBTRACT)
        add(pocket_linearpattern_6, mode=Mode.SUBTRACT)
        add(pocket_linearpattern_7, mode=Mode.SUBTRACT)


with BuildPart() as part_1:
    # Clone placement: moved
    add(part.part.moved(Location((1, 1, -19))))


solid = part_1.part
